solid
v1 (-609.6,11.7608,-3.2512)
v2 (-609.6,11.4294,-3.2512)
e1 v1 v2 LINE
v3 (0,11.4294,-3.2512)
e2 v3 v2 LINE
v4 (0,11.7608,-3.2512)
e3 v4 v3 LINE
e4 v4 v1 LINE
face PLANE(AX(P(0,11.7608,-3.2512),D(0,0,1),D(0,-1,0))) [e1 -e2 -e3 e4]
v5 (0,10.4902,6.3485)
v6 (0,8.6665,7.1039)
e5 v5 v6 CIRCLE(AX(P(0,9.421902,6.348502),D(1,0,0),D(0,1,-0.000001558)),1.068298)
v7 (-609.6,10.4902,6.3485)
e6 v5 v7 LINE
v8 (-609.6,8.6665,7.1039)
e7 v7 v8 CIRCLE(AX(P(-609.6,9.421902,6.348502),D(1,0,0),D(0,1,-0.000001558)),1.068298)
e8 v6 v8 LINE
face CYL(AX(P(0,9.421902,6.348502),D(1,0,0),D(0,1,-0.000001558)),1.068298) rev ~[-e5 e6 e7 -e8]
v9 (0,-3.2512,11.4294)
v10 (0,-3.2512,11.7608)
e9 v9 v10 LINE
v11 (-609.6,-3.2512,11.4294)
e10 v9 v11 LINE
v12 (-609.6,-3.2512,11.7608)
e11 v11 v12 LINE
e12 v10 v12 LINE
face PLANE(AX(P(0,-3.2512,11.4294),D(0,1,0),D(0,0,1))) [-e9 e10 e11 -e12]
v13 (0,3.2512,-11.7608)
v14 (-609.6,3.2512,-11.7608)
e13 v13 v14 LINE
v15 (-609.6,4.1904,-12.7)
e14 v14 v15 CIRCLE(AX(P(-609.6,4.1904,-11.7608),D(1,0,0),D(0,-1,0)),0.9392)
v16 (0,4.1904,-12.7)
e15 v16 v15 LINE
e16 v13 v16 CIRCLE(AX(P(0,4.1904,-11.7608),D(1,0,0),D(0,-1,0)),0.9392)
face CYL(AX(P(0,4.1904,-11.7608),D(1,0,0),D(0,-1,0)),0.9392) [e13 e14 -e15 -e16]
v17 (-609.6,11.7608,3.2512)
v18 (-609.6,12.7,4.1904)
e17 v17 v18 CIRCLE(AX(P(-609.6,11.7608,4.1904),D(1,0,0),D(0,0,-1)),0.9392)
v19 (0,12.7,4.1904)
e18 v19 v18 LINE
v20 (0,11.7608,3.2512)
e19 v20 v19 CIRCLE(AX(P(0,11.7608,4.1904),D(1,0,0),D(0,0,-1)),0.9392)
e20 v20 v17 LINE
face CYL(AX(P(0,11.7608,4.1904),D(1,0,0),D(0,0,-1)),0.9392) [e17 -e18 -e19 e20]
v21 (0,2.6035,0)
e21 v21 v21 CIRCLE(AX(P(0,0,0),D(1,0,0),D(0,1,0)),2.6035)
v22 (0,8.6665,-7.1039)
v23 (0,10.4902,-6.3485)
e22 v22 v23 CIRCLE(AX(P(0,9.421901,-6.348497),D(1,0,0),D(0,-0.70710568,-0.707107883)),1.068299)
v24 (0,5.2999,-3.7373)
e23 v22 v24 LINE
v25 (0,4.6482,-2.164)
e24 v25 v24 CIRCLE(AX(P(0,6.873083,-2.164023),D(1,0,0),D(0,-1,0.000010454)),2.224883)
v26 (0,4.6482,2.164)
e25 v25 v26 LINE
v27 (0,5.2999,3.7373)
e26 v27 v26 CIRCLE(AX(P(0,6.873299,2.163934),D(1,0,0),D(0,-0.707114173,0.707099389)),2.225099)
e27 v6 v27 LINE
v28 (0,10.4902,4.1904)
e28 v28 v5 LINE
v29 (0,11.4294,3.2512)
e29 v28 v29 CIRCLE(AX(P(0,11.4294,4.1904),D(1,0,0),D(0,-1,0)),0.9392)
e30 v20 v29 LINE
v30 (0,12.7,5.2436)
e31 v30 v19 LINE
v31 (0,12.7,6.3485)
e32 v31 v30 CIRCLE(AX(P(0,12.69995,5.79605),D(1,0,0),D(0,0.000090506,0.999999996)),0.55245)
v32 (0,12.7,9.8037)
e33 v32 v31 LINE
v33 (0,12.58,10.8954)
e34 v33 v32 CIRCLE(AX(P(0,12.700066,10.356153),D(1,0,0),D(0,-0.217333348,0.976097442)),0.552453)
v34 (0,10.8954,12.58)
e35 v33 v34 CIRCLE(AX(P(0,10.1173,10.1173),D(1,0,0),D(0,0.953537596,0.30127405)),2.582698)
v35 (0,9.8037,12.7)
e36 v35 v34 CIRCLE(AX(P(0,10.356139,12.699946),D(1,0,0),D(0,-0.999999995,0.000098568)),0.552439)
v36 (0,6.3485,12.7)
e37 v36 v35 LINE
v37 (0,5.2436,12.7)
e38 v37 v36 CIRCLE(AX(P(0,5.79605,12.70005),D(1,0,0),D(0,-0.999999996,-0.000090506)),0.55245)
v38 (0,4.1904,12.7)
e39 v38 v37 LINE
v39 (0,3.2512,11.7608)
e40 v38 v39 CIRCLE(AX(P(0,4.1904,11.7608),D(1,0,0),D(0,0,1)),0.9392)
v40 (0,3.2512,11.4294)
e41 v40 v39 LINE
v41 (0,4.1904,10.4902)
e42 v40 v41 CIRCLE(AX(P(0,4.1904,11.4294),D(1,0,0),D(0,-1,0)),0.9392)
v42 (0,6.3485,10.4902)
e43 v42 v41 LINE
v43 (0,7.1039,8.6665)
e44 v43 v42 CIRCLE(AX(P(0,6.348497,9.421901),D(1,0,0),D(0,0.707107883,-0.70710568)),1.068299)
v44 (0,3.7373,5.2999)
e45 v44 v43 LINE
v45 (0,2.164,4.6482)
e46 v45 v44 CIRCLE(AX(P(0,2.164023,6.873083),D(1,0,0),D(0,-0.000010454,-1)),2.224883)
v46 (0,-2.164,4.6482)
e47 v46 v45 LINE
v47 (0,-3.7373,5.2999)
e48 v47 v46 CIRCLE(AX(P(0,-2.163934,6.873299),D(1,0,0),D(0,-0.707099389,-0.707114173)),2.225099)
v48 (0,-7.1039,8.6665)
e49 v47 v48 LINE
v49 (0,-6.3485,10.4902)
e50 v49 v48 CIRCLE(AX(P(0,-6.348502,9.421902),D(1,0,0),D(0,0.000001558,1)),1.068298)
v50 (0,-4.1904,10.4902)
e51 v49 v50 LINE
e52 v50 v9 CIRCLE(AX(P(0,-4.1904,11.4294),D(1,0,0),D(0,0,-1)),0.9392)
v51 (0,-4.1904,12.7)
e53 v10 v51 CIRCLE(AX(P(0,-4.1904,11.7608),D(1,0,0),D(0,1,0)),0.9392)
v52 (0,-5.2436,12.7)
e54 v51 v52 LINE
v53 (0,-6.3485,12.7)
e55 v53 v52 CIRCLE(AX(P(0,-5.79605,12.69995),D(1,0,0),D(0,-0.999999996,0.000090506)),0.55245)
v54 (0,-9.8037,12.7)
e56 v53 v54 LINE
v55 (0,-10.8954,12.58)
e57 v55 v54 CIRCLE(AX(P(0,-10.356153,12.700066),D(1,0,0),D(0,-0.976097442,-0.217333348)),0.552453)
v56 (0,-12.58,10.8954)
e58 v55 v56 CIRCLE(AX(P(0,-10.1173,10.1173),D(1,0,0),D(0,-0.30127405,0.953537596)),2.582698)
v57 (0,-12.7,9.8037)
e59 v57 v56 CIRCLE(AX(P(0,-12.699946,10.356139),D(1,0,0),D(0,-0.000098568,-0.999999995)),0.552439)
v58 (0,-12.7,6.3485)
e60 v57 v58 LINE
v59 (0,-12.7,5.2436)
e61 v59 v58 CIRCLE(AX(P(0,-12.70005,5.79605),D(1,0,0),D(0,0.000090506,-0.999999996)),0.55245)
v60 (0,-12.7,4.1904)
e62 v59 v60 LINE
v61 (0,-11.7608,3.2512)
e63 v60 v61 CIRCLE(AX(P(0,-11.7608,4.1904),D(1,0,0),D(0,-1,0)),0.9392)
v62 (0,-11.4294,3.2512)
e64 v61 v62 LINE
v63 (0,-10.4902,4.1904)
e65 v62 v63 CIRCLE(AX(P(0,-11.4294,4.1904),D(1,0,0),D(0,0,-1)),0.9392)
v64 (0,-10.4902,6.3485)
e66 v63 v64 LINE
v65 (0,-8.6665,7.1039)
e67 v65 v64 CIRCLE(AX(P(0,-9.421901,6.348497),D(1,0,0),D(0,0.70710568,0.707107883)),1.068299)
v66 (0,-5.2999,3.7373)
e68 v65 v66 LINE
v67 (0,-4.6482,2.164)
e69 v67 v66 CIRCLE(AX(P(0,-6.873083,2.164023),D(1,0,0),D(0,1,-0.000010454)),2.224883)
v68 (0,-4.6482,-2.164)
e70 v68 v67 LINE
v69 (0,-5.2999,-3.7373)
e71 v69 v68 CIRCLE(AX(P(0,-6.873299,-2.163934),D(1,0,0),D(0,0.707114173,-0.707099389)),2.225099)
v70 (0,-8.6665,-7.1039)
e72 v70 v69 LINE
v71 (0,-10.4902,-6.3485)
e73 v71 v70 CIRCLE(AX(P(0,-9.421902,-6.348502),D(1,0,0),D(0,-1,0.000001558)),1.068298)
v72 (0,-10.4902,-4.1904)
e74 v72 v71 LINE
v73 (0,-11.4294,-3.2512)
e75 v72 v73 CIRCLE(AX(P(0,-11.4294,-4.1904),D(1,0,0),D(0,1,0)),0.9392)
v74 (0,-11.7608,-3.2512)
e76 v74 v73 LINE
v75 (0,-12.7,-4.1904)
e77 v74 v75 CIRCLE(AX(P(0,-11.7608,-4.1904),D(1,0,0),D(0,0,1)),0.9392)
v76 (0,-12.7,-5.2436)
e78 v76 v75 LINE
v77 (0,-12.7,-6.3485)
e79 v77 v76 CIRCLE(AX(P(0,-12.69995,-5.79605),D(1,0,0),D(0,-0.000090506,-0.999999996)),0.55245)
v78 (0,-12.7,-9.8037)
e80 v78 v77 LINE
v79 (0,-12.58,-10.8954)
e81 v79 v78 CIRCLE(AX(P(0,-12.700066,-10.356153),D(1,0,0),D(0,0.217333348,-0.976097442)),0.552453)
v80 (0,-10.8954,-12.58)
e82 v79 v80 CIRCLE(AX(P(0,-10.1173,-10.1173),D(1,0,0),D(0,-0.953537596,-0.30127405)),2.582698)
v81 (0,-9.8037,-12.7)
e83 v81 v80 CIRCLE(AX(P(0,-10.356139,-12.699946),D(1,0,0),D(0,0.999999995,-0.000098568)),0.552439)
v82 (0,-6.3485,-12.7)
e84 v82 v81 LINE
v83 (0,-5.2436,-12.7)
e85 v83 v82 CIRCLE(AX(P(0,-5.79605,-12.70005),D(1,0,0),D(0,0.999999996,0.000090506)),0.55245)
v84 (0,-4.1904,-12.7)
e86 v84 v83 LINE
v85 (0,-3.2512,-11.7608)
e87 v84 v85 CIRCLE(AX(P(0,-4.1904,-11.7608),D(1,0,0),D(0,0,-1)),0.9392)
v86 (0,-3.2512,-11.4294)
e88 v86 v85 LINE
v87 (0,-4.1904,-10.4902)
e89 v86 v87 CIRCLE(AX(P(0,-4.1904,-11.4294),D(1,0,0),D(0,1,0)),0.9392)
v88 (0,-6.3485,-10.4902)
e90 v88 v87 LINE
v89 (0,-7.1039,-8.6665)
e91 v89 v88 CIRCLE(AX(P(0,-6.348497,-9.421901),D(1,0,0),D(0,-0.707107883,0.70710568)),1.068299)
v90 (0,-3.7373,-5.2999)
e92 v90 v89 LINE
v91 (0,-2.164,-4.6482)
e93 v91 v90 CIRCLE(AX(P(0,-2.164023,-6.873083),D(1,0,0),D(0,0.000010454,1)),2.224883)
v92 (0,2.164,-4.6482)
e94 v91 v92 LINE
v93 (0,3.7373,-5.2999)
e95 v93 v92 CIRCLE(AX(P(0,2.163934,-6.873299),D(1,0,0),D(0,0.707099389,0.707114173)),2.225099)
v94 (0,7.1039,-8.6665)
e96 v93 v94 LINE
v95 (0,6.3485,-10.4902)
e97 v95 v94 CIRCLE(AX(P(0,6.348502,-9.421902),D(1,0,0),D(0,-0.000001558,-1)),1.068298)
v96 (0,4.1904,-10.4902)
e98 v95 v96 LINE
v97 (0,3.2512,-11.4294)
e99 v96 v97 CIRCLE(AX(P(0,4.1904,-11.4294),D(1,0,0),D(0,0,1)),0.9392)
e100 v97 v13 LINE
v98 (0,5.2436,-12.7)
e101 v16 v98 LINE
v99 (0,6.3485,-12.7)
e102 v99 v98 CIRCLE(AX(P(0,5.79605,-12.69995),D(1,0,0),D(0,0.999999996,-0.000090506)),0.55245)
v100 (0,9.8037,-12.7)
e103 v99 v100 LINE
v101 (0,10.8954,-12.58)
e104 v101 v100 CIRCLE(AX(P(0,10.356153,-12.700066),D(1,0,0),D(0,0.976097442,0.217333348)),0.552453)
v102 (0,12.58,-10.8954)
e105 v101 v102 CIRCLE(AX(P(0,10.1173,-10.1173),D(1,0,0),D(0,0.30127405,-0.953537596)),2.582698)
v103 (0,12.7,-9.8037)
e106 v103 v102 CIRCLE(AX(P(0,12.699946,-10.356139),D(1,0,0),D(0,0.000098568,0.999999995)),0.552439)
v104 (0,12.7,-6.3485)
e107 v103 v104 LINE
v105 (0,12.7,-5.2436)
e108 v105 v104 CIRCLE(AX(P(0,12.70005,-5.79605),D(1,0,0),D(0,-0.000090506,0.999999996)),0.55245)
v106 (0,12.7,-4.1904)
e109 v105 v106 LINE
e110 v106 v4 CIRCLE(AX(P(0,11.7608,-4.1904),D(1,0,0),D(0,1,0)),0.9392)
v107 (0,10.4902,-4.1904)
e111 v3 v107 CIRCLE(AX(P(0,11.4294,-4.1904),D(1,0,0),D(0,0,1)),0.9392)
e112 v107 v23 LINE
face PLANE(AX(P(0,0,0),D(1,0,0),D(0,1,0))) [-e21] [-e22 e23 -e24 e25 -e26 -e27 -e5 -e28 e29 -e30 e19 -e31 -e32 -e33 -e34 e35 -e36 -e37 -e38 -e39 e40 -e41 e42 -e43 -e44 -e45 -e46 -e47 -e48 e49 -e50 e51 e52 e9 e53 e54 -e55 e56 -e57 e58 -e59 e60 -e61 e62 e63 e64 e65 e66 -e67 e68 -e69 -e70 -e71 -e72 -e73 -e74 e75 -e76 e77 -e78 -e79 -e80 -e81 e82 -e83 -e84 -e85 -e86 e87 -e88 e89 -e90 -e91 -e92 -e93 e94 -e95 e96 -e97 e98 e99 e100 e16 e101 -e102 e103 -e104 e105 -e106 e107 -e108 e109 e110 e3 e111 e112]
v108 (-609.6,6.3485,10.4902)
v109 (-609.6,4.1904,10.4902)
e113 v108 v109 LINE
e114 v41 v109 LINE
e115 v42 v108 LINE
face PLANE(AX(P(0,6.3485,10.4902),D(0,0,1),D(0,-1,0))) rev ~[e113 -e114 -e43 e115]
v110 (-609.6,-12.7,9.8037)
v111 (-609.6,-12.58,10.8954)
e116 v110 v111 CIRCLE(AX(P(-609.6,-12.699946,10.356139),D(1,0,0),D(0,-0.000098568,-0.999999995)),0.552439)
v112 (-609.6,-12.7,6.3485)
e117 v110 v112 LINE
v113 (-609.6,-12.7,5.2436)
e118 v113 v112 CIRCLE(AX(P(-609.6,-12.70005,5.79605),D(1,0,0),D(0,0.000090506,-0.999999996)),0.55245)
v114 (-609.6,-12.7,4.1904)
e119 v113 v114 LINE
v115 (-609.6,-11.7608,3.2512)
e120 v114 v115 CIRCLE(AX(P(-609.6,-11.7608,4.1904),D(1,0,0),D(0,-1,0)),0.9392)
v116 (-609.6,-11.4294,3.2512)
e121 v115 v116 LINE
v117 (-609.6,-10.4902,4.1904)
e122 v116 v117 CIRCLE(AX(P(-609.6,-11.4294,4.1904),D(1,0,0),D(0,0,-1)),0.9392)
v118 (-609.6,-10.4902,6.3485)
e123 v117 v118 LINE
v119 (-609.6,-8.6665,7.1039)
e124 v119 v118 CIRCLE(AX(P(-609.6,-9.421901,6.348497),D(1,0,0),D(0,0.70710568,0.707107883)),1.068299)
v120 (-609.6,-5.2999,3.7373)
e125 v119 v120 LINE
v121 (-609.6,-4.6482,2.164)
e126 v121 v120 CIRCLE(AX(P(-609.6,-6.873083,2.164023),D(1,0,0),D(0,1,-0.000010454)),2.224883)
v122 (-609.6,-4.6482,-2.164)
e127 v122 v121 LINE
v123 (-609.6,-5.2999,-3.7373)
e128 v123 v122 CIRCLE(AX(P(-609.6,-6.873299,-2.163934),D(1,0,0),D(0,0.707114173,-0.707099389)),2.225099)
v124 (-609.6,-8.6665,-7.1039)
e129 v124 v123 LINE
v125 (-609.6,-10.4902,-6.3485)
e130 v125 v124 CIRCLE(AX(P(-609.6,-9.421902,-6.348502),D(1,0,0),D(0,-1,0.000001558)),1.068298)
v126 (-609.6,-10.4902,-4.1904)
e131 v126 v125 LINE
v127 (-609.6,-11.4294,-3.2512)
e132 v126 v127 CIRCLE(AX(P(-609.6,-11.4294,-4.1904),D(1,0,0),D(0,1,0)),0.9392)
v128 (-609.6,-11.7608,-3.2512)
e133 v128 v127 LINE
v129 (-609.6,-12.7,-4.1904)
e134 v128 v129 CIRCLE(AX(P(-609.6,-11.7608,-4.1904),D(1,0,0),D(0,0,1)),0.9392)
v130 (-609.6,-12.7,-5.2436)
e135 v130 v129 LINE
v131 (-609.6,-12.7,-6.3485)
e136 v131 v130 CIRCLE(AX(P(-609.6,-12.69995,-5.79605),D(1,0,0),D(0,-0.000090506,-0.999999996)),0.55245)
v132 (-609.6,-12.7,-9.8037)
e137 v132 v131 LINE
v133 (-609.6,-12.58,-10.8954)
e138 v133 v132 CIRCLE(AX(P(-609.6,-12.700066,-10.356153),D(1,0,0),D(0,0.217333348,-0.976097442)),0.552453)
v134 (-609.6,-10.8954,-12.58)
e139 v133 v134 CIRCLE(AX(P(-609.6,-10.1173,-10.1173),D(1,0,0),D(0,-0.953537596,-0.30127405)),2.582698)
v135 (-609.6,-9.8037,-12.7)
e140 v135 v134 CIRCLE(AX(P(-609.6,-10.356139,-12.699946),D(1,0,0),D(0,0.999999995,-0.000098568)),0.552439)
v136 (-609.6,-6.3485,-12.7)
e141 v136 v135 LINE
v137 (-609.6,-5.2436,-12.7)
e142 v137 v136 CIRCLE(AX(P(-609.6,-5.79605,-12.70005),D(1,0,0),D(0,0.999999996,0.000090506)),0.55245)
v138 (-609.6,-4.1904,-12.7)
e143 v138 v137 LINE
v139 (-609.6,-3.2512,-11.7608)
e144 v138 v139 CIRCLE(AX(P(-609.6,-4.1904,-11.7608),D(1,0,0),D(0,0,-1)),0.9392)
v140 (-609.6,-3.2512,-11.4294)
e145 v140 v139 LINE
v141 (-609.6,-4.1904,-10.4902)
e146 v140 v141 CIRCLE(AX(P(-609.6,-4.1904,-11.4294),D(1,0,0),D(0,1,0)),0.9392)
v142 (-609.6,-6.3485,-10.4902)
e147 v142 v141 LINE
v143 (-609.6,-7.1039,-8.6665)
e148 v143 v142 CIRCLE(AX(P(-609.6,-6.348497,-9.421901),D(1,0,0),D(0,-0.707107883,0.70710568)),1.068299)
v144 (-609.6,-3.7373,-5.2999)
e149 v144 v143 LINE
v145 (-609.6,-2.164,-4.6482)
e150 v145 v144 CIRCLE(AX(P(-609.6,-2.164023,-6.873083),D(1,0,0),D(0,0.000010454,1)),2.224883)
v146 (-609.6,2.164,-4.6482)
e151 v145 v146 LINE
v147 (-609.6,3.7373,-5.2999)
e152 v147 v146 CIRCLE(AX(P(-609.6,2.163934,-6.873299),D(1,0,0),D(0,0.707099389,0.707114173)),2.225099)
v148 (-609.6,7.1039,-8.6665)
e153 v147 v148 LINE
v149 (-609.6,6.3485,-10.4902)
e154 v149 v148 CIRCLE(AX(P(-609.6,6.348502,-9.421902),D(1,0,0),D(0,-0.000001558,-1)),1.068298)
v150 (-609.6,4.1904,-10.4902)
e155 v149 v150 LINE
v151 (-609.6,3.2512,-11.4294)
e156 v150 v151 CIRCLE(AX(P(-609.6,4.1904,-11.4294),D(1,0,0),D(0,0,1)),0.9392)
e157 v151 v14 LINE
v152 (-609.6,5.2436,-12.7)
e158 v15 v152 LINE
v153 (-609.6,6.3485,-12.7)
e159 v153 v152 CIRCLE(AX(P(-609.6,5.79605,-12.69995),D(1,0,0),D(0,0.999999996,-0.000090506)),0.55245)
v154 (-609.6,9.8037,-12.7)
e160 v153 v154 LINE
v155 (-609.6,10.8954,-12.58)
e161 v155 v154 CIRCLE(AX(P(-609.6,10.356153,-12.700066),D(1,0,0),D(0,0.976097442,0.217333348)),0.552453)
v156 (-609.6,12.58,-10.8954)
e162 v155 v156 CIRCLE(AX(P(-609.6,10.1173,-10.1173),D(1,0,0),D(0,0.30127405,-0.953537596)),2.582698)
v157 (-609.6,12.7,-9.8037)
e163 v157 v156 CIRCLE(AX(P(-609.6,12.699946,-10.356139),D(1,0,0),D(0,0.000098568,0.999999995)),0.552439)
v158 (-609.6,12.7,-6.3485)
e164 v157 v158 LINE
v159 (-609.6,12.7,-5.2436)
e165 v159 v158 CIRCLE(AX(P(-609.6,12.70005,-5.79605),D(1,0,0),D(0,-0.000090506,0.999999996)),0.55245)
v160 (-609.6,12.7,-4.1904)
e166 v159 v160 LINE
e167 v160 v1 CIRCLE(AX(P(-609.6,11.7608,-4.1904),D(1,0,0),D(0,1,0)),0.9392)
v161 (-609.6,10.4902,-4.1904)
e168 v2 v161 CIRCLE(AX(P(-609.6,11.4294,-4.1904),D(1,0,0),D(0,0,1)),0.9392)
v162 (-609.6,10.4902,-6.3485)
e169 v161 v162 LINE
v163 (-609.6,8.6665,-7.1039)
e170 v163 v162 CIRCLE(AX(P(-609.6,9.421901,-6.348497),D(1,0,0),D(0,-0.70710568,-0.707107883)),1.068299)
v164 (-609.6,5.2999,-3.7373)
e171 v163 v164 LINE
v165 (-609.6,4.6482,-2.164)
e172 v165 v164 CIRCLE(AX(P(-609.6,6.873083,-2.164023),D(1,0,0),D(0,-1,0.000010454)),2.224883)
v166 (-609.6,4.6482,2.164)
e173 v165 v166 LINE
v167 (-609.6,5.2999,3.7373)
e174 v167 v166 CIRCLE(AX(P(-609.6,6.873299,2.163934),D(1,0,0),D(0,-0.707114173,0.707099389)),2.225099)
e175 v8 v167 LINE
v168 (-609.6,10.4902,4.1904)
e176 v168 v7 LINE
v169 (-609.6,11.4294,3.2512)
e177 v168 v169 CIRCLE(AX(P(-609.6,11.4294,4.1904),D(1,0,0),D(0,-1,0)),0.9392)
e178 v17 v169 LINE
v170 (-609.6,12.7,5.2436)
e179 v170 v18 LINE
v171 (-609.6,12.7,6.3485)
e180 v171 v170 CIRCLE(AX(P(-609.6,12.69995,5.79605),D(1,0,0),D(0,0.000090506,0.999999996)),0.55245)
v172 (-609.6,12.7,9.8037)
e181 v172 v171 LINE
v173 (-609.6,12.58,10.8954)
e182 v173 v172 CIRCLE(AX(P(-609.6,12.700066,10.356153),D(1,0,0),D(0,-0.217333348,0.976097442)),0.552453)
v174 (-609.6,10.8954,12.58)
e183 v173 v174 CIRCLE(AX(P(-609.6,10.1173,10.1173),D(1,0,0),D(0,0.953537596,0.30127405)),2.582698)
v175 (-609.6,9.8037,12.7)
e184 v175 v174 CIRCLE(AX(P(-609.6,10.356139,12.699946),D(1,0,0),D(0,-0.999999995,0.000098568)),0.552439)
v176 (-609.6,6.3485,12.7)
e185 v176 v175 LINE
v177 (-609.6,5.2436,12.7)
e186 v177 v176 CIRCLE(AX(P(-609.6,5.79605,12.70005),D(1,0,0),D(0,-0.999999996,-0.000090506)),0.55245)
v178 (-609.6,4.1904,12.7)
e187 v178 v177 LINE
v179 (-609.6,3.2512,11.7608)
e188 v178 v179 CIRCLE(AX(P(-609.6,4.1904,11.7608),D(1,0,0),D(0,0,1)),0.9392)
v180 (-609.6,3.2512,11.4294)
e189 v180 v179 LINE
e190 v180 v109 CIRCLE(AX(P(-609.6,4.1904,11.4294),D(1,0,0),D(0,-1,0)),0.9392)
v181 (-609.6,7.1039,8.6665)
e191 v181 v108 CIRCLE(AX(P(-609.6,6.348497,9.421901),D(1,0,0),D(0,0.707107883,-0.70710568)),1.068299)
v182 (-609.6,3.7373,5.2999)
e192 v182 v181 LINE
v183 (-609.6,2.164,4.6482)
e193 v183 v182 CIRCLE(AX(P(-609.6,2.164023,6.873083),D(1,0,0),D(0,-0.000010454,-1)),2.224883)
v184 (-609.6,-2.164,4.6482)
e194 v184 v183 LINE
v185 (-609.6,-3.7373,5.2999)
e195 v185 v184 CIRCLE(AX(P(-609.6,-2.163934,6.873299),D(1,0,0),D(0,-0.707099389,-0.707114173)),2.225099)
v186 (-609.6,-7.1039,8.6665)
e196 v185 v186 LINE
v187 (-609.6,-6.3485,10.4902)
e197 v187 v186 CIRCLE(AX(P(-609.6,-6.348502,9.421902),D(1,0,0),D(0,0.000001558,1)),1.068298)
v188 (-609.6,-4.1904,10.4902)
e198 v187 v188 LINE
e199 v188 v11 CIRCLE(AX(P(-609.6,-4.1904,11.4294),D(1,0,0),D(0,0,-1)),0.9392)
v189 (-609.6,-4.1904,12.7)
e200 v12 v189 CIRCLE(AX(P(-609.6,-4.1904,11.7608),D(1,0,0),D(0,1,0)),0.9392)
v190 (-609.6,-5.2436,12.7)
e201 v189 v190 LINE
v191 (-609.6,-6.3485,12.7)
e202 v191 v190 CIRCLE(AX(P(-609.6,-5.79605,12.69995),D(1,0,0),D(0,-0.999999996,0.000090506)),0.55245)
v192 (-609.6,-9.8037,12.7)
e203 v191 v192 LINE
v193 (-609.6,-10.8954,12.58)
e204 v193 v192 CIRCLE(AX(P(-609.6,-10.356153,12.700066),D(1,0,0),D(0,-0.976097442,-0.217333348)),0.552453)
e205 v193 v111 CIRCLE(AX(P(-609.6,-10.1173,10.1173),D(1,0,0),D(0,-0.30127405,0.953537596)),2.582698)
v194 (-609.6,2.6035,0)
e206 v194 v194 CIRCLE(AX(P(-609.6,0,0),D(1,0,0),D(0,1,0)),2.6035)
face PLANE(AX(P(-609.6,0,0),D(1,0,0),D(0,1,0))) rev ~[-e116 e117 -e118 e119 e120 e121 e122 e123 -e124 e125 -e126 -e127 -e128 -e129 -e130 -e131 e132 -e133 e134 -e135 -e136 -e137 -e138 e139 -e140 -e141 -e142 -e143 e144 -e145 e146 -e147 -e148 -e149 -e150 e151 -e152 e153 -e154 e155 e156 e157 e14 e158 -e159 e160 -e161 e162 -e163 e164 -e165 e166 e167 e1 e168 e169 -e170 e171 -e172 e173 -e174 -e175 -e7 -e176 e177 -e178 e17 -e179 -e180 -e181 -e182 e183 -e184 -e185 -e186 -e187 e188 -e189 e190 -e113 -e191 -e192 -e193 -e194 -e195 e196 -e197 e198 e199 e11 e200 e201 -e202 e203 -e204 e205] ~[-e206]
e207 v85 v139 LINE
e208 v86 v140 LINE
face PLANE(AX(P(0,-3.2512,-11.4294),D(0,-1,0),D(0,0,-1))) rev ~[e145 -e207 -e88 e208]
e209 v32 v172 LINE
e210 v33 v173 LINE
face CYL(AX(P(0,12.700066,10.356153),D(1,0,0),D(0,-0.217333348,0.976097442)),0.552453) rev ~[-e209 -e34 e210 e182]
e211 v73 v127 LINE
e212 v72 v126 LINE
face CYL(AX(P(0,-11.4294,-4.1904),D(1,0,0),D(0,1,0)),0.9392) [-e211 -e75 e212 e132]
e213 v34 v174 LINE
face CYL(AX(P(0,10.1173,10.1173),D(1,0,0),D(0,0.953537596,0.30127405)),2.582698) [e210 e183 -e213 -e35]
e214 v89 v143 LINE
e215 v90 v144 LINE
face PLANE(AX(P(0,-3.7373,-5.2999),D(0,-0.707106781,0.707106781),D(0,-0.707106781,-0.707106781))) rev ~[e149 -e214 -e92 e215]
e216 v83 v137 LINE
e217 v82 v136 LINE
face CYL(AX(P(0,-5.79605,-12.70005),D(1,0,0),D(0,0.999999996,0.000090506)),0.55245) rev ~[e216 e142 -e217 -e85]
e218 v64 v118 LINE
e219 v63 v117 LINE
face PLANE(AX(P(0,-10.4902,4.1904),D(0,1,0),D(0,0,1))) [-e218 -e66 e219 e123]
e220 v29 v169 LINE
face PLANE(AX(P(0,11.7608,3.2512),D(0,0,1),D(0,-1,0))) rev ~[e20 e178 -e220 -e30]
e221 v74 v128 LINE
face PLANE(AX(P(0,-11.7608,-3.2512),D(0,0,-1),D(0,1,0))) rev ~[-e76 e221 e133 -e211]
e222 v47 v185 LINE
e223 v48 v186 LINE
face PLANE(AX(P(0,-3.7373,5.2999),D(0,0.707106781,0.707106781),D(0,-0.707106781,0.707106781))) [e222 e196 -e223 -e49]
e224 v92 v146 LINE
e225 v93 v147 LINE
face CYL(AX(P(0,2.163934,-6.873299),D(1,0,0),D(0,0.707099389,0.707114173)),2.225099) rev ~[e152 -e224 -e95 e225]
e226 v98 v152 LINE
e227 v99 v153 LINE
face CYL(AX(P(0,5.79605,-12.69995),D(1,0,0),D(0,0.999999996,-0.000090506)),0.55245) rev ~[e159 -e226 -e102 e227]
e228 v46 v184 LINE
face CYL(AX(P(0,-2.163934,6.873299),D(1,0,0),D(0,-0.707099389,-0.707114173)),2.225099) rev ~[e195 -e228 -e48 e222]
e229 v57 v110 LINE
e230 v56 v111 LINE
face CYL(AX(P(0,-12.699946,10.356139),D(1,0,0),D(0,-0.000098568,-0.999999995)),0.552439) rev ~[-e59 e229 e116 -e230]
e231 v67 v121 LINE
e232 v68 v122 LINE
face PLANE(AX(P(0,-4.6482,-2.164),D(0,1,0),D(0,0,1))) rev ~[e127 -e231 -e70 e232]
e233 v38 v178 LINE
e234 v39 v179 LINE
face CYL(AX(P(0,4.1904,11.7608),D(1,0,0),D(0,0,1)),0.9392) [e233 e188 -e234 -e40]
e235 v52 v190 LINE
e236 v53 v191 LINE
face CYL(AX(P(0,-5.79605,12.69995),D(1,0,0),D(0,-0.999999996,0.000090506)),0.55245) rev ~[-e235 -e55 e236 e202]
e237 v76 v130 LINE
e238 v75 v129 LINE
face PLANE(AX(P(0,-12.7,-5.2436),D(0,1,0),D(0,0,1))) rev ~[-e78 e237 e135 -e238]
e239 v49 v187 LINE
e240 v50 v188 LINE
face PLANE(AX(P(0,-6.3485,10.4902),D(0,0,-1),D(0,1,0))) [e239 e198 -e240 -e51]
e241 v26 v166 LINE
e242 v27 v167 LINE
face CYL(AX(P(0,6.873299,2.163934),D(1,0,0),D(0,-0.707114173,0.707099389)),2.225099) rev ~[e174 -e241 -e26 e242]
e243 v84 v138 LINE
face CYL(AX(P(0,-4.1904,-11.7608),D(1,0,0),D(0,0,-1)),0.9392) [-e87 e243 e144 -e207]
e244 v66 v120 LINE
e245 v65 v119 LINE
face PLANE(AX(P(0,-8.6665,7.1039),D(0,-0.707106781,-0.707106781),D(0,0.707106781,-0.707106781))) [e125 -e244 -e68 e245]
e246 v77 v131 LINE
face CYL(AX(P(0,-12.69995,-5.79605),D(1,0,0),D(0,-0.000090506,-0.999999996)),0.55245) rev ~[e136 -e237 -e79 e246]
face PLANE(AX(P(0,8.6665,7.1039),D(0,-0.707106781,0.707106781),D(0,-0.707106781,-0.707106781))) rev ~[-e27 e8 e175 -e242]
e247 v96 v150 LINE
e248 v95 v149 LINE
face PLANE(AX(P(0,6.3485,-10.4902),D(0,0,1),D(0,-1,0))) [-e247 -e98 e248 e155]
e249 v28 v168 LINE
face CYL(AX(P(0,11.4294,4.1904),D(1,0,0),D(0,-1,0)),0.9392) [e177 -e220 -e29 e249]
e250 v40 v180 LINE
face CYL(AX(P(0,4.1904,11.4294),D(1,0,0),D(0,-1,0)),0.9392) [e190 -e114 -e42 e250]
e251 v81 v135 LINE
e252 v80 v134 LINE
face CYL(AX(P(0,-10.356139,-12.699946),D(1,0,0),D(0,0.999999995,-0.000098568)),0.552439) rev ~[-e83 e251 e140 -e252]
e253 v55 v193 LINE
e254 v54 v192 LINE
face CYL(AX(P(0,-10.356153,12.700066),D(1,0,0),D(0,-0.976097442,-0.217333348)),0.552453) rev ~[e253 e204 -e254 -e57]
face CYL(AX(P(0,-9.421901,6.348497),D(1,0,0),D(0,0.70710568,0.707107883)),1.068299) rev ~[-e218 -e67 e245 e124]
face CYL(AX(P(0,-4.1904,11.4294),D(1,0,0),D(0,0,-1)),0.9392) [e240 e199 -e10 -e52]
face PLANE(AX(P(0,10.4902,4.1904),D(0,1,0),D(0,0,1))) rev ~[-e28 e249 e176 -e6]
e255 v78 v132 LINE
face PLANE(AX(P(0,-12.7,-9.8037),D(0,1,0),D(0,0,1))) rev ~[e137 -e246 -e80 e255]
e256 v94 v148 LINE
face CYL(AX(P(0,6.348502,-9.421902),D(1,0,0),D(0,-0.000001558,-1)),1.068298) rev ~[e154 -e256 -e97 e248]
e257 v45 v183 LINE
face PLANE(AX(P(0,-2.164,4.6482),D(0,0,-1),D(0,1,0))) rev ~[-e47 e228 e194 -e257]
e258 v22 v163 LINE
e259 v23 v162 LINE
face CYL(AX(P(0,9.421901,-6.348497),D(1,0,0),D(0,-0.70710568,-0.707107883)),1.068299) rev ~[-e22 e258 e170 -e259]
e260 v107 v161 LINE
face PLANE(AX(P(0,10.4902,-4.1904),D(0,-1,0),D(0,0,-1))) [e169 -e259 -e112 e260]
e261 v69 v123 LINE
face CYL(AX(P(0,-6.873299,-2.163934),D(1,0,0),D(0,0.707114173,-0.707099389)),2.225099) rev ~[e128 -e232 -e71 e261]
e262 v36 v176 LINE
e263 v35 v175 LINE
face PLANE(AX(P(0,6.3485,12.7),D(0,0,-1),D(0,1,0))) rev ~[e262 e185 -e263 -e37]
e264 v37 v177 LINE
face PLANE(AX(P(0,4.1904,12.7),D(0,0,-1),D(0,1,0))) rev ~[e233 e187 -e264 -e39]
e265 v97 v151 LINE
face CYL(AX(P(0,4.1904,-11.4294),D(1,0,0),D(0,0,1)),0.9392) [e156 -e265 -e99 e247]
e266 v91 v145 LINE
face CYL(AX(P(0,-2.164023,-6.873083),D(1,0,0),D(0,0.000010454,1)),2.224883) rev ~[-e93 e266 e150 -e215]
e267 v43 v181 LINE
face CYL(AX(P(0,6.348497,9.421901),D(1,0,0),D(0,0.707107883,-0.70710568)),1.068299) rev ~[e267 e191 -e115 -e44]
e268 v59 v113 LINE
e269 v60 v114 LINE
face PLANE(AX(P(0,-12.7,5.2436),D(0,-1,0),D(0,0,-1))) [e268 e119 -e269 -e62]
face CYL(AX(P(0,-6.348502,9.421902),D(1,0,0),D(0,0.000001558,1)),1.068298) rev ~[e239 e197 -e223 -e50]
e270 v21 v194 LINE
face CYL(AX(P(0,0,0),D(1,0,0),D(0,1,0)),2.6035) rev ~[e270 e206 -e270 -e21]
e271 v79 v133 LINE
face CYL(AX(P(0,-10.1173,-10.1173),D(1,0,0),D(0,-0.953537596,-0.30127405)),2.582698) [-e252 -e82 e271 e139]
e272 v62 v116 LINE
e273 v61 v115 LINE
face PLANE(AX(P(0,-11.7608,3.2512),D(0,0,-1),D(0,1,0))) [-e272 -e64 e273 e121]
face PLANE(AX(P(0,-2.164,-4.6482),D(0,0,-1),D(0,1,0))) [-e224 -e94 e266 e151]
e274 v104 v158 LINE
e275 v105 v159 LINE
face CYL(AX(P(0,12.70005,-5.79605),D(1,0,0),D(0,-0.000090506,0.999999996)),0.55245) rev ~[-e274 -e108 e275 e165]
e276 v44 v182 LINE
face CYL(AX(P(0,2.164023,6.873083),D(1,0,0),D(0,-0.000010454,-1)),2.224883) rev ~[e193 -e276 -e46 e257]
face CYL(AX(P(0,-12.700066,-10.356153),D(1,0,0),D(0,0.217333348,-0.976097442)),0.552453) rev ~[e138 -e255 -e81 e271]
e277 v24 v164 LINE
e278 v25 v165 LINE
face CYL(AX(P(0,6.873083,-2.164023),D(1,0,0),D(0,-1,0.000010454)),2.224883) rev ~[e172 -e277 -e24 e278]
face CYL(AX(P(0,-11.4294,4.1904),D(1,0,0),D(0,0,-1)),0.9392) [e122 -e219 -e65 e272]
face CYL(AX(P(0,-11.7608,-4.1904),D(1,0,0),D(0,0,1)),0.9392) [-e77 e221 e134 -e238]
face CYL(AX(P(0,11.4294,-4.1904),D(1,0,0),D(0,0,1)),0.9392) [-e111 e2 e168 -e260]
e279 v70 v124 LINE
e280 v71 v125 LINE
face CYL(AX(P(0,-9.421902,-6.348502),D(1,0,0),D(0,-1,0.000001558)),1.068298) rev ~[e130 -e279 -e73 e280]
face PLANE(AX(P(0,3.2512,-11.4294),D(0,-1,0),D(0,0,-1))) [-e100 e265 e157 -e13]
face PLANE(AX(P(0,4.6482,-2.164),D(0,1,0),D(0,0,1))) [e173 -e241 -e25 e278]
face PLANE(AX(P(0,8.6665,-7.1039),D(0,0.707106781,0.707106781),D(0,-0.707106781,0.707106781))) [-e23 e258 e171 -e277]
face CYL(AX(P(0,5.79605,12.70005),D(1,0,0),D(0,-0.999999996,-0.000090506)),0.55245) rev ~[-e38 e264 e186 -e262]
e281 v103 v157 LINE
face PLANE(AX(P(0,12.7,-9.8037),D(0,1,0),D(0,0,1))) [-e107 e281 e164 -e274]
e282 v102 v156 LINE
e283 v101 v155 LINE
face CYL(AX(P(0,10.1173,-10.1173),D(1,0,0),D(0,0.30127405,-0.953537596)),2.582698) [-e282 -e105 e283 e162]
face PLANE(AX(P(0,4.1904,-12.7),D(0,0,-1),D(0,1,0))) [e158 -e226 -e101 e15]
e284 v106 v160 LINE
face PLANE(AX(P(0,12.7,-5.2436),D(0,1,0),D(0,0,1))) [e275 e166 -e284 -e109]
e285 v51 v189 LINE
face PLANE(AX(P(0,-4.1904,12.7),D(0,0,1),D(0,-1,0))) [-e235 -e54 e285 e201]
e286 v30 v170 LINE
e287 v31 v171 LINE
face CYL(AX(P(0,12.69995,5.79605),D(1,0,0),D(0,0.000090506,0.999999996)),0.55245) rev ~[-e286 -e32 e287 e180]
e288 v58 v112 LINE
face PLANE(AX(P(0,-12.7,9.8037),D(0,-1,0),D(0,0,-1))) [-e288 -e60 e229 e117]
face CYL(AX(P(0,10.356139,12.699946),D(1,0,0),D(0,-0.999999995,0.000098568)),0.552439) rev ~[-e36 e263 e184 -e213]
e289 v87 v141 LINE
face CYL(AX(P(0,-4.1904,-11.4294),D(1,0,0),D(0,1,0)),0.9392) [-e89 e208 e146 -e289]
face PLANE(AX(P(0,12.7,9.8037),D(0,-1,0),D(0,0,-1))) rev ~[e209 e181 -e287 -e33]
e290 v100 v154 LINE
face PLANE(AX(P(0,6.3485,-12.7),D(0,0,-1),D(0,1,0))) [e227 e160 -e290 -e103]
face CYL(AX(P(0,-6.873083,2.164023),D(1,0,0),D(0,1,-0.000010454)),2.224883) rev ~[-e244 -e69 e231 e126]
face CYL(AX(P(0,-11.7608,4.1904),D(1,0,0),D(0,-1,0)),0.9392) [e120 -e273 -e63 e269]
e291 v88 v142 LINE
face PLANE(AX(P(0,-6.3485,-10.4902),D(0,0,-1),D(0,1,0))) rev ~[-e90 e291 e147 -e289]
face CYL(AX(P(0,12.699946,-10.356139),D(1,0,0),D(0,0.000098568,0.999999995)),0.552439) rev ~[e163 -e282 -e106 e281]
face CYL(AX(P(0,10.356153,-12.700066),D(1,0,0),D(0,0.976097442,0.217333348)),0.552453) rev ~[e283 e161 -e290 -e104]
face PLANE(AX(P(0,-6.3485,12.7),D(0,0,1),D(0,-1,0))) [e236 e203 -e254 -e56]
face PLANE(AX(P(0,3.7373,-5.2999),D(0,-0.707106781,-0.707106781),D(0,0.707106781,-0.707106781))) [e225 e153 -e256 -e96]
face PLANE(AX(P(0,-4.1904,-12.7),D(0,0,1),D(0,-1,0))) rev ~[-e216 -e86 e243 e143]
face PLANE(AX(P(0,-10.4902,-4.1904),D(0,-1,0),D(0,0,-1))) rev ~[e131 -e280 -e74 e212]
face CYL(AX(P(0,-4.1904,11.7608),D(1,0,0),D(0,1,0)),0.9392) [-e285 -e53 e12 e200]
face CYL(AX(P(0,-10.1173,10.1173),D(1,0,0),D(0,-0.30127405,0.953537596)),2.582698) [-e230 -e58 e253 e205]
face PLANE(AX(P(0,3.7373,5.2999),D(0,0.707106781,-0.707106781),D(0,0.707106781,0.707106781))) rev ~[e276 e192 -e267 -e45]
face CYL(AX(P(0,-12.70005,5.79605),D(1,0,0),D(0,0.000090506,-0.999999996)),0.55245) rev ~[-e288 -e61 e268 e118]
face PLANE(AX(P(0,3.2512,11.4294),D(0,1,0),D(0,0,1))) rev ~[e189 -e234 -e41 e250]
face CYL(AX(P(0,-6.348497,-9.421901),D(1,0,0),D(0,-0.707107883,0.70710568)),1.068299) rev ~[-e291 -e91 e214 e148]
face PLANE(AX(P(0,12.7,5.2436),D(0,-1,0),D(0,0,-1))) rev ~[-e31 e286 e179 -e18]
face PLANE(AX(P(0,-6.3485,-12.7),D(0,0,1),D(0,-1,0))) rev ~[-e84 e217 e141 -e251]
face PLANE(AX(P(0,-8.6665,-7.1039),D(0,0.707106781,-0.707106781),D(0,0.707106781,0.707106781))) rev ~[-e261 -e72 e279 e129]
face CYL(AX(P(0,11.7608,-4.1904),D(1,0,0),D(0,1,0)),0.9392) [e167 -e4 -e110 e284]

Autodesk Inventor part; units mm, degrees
ref_plane "YZ Plane" through (0, 0, 0) normal (1, 0, 0) x (0, 1, 0)
ref_plane "XZ Plane" through (0, 0, 0) normal (0, 1, 0) x (-1, 0, 0)
ref_plane "XY Plane" through (0, 0, 0) normal (0, 0, 1) x (1, 0, 0)
sketch "Sketch1" plane through (0, 0, 0) normal (1, 0, 0) x (0, 1, 0)
  arc A0 (12.7, -5.2436) -> (12.7, -6.3485) centre (12.7, -5.796) ccw
  line L0 (12.7, -5.2436) -> (12.7, -4.1904)
  arc A1 (12.7, -4.1904) -> (11.7608, -3.2512) centre (11.7608, -4.1904) ccw
  line L1 (11.7608, -3.2512) -> (11.4294, -3.2512)
  arc A2 (11.4294, -3.2512) -> (10.4902, -4.1904) centre (11.4294, -4.1904) ccw
  line L2 (10.4902, -4.1904) -> (10.4902, -6.3485)
  arc A3 (8.6665, -7.1039) -> (10.4902, -6.3485) centre (9.4219, -6.3485) ccw
  line L3 (8.6665, -7.1039) -> (5.2999, -3.7373)
  arc A4 (4.6482, -2.164) -> (5.2999, -3.7373) centre (6.8732, -2.164) ccw
  line L4 (4.6482, -2.164) -> (4.6482, 2.164)
  arc A5 (5.2999, 3.7373) -> (4.6482, 2.164) centre (6.8732, 2.164) ccw
  line L5 (8.6665, 7.1039) -> (5.2999, 3.7373)
  arc A6 (10.4902, 6.3485) -> (8.6665, 7.1039) centre (9.4219, 6.3485) ccw
  line L6 (10.4902, 4.1904) -> (10.4902, 6.3485)
  arc A7 (10.4902, 4.1904) -> (11.4294, 3.2512) centre (11.4294, 4.1904) ccw
  line L7 (11.7608, 3.2512) -> (11.4294, 3.2512)
  arc A8 (11.7608, 3.2512) -> (12.7, 4.1904) centre (11.7608, 4.1904) ccw
  line L8 (12.7, 5.2436) -> (12.7, 4.1904)
  arc A9 (12.7, 6.3485) -> (12.7, 5.2436) centre (12.7, 5.796) ccw
  line L9 (12.7, 9.8037) -> (12.7, 6.3485)
  arc A10 (12.58, 10.8954) -> (12.7, 9.8037) centre (12.7, 10.3562) ccw
  arc A11 (12.58, 10.8954) -> (10.8954, 12.58) centre (10.1173, 10.1173) ccw
  arc A12 (9.8037, 12.7) -> (10.8954, 12.58) centre (10.3562, 12.7) ccw
  line L10 (6.3485, 12.7) -> (9.8037, 12.7)
  arc A13 (5.2436, 12.7) -> (6.3485, 12.7) centre (5.796, 12.7) ccw
  line L11 (4.1904, 12.7) -> (5.2436, 12.7)
  arc A14 (4.1904, 12.7) -> (3.2512, 11.7608) centre (4.1904, 11.7608) ccw
  line L12 (3.2512, 11.4294) -> (3.2512, 11.7608)
  arc A15 (3.2512, 11.4294) -> (4.1904, 10.4902) centre (4.1904, 11.4294) ccw
  line L13 (6.3485, 10.4902) -> (4.1904, 10.4902)
  arc A16 (7.1039, 8.6665) -> (6.3485, 10.4902) centre (6.3485, 9.4219) ccw
  line L14 (3.7373, 5.2999) -> (7.1039, 8.6665)
  arc A17 (2.164, 4.6482) -> (3.7373, 5.2999) centre (2.164, 6.8732) ccw
  line L15 (-2.164, 4.6482) -> (2.164, 4.6482)
  arc A18 (-3.7373, 5.2999) -> (-2.164, 4.6482) centre (-2.164, 6.8732) ccw
  line L16 (-3.7373, 5.2999) -> (-7.1039, 8.6665)
  arc A19 (-6.3485, 10.4902) -> (-7.1039, 8.6665) centre (-6.3485, 9.4219) ccw
  line L17 (-6.3485, 10.4902) -> (-4.1904, 10.4902)
  arc A20 (-4.1904, 10.4902) -> (-3.2512, 11.4294) centre (-4.1904, 11.4294) ccw
  line L18 (-3.2512, 11.4294) -> (-3.2512, 11.7608)
  arc A21 (-3.2512, 11.7608) -> (-4.1904, 12.7) centre (-4.1904, 11.7608) ccw
  line L19 (-4.1904, 12.7) -> (-5.2436, 12.7)
  arc A22 (-6.3485, 12.7) -> (-5.2436, 12.7) centre (-5.796, 12.7) ccw
  line L20 (-6.3485, 12.7) -> (-9.8037, 12.7)
  arc A23 (-10.8954, 12.58) -> (-9.8037, 12.7) centre (-10.3562, 12.7) ccw
  arc A24 (-10.8954, 12.58) -> (-12.58, 10.8954) centre (-10.1173, 10.1173) ccw
  arc A25 (-12.7, 9.8037) -> (-12.58, 10.8954) centre (-12.7, 10.3562) ccw
  line L21 (-12.7, 9.8037) -> (-12.7, 6.3485)
  arc A26 (-12.7, 5.2436) -> (-12.7, 6.3485) centre (-12.7, 5.796) ccw
  line L22 (-12.7, 5.2436) -> (-12.7, 4.1904)
  arc A27 (-12.7, 4.1904) -> (-11.7608, 3.2512) centre (-11.7608, 4.1904) ccw
  line L23 (-11.7608, 3.2512) -> (-11.4294, 3.2512)
  arc A28 (-11.4294, 3.2512) -> (-10.4902, 4.1904) centre (-11.4294, 4.1904) ccw
  line L24 (-10.4902, 4.1904) -> (-10.4902, 6.3485)
  arc A29 (-8.6665, 7.1039) -> (-10.4902, 6.3485) centre (-9.4219, 6.3485) ccw
  line L25 (-8.6665, 7.1039) -> (-5.2999, 3.7373)
  arc A30 (-4.6482, 2.164) -> (-5.2999, 3.7373) centre (-6.8732, 2.164) ccw
  line L26 (-4.6482, -2.164) -> (-4.6482, 2.164)
  arc A31 (-5.2999, -3.7373) -> (-4.6482, -2.164) centre (-6.8732, -2.164) ccw
  line L27 (-8.6665, -7.1039) -> (-5.2999, -3.7373)
  arc A32 (-10.4902, -6.3485) -> (-8.6665, -7.1039) centre (-9.4219, -6.3485) ccw
  line L28 (-10.4902, -4.1904) -> (-10.4902, -6.3485)
  arc A33 (-10.4902, -4.1904) -> (-11.4294, -3.2512) centre (-11.4294, -4.1904) ccw
  line L29 (-11.7608, -3.2512) -> (-11.4294, -3.2512)
  arc A34 (-11.7608, -3.2512) -> (-12.7, -4.1904) centre (-11.7608, -4.1904) ccw
  line L30 (-12.7, -5.2436) -> (-12.7, -4.1904)
  arc A35 (-12.7, -6.3485) -> (-12.7, -5.2436) centre (-12.7, -5.796) ccw
  line L31 (-12.7, -9.8037) -> (-12.7, -6.3485)
  arc A36 (-12.58, -10.8954) -> (-12.7, -9.8037) centre (-12.7, -10.3562) ccw
  arc A37 (-12.58, -10.8954) -> (-10.8954, -12.58) centre (-10.1173, -10.1173) ccw
  arc A38 (-9.8037, -12.7) -> (-10.8954, -12.58) centre (-10.3562, -12.7) ccw
  line L32 (-6.3485, -12.7) -> (-9.8037, -12.7)
  arc A39 (-5.2436, -12.7) -> (-6.3485, -12.7) centre (-5.796, -12.7) ccw
  line L33 (-4.1904, -12.7) -> (-5.2436, -12.7)
  arc A40 (-4.1904, -12.7) -> (-3.2512, -11.7608) centre (-4.1904, -11.7608) ccw
  line L34 (-3.2512, -11.4294) -> (-3.2512, -11.7608)
  arc A41 (-3.2512, -11.4294) -> (-4.1904, -10.4902) centre (-4.1904, -11.4294) ccw
  line L35 (-6.3485, -10.4902) -> (-4.1904, -10.4902)
  arc A42 (-7.1039, -8.6665) -> (-6.3485, -10.4902) centre (-6.3485, -9.4219) ccw
  line L36 (-3.7373, -5.2999) -> (-7.1039, -8.6665)
  arc A43 (-2.164, -4.6482) -> (-3.7373, -5.2999) centre (-2.164, -6.8732) ccw
  line L37 (-2.164, -4.6482) -> (2.164, -4.6482)
  arc A44 (3.7373, -5.2999) -> (2.164, -4.6482) centre (2.164, -6.8732) ccw
  line L38 (3.7373, -5.2999) -> (7.1039, -8.6665)
  arc A45 (6.3485, -10.4902) -> (7.1039, -8.6665) centre (6.3485, -9.4219) ccw
  line L39 (6.3485, -10.4902) -> (4.1904, -10.4902)
  arc A46 (4.1904, -10.4902) -> (3.2512, -11.4294) centre (4.1904, -11.4294) ccw
  line L40 (3.2512, -11.4294) -> (3.2512, -11.7608)
  arc A47 (3.2512, -11.7608) -> (4.1904, -12.7) centre (4.1904, -11.7608) ccw
  line L41 (4.1904, -12.7) -> (5.2436, -12.7)
  arc A48 (6.3485, -12.7) -> (5.2436, -12.7) centre (5.796, -12.7) ccw
  line L42 (6.3485, -12.7) -> (9.8037, -12.7)
  arc A49 (10.8954, -12.58) -> (9.8037, -12.7) centre (10.3562, -12.7) ccw
  arc A50 (10.8954, -12.58) -> (12.58, -10.8954) centre (10.1173, -10.1173) ccw
  arc A51 (12.7, -9.8037) -> (12.58, -10.8954) centre (12.7, -10.3562) ccw
  line L43 (12.7, -9.8037) -> (12.7, -6.3485)
  circle A52 centre (0, 0) radius 2.6035
  point P0 (0, 0)
  point P1 (0, 0)
extrude "Extrusion1" add sketch "Sketch1" against normal blind 609.6
properties part number "trackBase" material "Aluminum 6061"
